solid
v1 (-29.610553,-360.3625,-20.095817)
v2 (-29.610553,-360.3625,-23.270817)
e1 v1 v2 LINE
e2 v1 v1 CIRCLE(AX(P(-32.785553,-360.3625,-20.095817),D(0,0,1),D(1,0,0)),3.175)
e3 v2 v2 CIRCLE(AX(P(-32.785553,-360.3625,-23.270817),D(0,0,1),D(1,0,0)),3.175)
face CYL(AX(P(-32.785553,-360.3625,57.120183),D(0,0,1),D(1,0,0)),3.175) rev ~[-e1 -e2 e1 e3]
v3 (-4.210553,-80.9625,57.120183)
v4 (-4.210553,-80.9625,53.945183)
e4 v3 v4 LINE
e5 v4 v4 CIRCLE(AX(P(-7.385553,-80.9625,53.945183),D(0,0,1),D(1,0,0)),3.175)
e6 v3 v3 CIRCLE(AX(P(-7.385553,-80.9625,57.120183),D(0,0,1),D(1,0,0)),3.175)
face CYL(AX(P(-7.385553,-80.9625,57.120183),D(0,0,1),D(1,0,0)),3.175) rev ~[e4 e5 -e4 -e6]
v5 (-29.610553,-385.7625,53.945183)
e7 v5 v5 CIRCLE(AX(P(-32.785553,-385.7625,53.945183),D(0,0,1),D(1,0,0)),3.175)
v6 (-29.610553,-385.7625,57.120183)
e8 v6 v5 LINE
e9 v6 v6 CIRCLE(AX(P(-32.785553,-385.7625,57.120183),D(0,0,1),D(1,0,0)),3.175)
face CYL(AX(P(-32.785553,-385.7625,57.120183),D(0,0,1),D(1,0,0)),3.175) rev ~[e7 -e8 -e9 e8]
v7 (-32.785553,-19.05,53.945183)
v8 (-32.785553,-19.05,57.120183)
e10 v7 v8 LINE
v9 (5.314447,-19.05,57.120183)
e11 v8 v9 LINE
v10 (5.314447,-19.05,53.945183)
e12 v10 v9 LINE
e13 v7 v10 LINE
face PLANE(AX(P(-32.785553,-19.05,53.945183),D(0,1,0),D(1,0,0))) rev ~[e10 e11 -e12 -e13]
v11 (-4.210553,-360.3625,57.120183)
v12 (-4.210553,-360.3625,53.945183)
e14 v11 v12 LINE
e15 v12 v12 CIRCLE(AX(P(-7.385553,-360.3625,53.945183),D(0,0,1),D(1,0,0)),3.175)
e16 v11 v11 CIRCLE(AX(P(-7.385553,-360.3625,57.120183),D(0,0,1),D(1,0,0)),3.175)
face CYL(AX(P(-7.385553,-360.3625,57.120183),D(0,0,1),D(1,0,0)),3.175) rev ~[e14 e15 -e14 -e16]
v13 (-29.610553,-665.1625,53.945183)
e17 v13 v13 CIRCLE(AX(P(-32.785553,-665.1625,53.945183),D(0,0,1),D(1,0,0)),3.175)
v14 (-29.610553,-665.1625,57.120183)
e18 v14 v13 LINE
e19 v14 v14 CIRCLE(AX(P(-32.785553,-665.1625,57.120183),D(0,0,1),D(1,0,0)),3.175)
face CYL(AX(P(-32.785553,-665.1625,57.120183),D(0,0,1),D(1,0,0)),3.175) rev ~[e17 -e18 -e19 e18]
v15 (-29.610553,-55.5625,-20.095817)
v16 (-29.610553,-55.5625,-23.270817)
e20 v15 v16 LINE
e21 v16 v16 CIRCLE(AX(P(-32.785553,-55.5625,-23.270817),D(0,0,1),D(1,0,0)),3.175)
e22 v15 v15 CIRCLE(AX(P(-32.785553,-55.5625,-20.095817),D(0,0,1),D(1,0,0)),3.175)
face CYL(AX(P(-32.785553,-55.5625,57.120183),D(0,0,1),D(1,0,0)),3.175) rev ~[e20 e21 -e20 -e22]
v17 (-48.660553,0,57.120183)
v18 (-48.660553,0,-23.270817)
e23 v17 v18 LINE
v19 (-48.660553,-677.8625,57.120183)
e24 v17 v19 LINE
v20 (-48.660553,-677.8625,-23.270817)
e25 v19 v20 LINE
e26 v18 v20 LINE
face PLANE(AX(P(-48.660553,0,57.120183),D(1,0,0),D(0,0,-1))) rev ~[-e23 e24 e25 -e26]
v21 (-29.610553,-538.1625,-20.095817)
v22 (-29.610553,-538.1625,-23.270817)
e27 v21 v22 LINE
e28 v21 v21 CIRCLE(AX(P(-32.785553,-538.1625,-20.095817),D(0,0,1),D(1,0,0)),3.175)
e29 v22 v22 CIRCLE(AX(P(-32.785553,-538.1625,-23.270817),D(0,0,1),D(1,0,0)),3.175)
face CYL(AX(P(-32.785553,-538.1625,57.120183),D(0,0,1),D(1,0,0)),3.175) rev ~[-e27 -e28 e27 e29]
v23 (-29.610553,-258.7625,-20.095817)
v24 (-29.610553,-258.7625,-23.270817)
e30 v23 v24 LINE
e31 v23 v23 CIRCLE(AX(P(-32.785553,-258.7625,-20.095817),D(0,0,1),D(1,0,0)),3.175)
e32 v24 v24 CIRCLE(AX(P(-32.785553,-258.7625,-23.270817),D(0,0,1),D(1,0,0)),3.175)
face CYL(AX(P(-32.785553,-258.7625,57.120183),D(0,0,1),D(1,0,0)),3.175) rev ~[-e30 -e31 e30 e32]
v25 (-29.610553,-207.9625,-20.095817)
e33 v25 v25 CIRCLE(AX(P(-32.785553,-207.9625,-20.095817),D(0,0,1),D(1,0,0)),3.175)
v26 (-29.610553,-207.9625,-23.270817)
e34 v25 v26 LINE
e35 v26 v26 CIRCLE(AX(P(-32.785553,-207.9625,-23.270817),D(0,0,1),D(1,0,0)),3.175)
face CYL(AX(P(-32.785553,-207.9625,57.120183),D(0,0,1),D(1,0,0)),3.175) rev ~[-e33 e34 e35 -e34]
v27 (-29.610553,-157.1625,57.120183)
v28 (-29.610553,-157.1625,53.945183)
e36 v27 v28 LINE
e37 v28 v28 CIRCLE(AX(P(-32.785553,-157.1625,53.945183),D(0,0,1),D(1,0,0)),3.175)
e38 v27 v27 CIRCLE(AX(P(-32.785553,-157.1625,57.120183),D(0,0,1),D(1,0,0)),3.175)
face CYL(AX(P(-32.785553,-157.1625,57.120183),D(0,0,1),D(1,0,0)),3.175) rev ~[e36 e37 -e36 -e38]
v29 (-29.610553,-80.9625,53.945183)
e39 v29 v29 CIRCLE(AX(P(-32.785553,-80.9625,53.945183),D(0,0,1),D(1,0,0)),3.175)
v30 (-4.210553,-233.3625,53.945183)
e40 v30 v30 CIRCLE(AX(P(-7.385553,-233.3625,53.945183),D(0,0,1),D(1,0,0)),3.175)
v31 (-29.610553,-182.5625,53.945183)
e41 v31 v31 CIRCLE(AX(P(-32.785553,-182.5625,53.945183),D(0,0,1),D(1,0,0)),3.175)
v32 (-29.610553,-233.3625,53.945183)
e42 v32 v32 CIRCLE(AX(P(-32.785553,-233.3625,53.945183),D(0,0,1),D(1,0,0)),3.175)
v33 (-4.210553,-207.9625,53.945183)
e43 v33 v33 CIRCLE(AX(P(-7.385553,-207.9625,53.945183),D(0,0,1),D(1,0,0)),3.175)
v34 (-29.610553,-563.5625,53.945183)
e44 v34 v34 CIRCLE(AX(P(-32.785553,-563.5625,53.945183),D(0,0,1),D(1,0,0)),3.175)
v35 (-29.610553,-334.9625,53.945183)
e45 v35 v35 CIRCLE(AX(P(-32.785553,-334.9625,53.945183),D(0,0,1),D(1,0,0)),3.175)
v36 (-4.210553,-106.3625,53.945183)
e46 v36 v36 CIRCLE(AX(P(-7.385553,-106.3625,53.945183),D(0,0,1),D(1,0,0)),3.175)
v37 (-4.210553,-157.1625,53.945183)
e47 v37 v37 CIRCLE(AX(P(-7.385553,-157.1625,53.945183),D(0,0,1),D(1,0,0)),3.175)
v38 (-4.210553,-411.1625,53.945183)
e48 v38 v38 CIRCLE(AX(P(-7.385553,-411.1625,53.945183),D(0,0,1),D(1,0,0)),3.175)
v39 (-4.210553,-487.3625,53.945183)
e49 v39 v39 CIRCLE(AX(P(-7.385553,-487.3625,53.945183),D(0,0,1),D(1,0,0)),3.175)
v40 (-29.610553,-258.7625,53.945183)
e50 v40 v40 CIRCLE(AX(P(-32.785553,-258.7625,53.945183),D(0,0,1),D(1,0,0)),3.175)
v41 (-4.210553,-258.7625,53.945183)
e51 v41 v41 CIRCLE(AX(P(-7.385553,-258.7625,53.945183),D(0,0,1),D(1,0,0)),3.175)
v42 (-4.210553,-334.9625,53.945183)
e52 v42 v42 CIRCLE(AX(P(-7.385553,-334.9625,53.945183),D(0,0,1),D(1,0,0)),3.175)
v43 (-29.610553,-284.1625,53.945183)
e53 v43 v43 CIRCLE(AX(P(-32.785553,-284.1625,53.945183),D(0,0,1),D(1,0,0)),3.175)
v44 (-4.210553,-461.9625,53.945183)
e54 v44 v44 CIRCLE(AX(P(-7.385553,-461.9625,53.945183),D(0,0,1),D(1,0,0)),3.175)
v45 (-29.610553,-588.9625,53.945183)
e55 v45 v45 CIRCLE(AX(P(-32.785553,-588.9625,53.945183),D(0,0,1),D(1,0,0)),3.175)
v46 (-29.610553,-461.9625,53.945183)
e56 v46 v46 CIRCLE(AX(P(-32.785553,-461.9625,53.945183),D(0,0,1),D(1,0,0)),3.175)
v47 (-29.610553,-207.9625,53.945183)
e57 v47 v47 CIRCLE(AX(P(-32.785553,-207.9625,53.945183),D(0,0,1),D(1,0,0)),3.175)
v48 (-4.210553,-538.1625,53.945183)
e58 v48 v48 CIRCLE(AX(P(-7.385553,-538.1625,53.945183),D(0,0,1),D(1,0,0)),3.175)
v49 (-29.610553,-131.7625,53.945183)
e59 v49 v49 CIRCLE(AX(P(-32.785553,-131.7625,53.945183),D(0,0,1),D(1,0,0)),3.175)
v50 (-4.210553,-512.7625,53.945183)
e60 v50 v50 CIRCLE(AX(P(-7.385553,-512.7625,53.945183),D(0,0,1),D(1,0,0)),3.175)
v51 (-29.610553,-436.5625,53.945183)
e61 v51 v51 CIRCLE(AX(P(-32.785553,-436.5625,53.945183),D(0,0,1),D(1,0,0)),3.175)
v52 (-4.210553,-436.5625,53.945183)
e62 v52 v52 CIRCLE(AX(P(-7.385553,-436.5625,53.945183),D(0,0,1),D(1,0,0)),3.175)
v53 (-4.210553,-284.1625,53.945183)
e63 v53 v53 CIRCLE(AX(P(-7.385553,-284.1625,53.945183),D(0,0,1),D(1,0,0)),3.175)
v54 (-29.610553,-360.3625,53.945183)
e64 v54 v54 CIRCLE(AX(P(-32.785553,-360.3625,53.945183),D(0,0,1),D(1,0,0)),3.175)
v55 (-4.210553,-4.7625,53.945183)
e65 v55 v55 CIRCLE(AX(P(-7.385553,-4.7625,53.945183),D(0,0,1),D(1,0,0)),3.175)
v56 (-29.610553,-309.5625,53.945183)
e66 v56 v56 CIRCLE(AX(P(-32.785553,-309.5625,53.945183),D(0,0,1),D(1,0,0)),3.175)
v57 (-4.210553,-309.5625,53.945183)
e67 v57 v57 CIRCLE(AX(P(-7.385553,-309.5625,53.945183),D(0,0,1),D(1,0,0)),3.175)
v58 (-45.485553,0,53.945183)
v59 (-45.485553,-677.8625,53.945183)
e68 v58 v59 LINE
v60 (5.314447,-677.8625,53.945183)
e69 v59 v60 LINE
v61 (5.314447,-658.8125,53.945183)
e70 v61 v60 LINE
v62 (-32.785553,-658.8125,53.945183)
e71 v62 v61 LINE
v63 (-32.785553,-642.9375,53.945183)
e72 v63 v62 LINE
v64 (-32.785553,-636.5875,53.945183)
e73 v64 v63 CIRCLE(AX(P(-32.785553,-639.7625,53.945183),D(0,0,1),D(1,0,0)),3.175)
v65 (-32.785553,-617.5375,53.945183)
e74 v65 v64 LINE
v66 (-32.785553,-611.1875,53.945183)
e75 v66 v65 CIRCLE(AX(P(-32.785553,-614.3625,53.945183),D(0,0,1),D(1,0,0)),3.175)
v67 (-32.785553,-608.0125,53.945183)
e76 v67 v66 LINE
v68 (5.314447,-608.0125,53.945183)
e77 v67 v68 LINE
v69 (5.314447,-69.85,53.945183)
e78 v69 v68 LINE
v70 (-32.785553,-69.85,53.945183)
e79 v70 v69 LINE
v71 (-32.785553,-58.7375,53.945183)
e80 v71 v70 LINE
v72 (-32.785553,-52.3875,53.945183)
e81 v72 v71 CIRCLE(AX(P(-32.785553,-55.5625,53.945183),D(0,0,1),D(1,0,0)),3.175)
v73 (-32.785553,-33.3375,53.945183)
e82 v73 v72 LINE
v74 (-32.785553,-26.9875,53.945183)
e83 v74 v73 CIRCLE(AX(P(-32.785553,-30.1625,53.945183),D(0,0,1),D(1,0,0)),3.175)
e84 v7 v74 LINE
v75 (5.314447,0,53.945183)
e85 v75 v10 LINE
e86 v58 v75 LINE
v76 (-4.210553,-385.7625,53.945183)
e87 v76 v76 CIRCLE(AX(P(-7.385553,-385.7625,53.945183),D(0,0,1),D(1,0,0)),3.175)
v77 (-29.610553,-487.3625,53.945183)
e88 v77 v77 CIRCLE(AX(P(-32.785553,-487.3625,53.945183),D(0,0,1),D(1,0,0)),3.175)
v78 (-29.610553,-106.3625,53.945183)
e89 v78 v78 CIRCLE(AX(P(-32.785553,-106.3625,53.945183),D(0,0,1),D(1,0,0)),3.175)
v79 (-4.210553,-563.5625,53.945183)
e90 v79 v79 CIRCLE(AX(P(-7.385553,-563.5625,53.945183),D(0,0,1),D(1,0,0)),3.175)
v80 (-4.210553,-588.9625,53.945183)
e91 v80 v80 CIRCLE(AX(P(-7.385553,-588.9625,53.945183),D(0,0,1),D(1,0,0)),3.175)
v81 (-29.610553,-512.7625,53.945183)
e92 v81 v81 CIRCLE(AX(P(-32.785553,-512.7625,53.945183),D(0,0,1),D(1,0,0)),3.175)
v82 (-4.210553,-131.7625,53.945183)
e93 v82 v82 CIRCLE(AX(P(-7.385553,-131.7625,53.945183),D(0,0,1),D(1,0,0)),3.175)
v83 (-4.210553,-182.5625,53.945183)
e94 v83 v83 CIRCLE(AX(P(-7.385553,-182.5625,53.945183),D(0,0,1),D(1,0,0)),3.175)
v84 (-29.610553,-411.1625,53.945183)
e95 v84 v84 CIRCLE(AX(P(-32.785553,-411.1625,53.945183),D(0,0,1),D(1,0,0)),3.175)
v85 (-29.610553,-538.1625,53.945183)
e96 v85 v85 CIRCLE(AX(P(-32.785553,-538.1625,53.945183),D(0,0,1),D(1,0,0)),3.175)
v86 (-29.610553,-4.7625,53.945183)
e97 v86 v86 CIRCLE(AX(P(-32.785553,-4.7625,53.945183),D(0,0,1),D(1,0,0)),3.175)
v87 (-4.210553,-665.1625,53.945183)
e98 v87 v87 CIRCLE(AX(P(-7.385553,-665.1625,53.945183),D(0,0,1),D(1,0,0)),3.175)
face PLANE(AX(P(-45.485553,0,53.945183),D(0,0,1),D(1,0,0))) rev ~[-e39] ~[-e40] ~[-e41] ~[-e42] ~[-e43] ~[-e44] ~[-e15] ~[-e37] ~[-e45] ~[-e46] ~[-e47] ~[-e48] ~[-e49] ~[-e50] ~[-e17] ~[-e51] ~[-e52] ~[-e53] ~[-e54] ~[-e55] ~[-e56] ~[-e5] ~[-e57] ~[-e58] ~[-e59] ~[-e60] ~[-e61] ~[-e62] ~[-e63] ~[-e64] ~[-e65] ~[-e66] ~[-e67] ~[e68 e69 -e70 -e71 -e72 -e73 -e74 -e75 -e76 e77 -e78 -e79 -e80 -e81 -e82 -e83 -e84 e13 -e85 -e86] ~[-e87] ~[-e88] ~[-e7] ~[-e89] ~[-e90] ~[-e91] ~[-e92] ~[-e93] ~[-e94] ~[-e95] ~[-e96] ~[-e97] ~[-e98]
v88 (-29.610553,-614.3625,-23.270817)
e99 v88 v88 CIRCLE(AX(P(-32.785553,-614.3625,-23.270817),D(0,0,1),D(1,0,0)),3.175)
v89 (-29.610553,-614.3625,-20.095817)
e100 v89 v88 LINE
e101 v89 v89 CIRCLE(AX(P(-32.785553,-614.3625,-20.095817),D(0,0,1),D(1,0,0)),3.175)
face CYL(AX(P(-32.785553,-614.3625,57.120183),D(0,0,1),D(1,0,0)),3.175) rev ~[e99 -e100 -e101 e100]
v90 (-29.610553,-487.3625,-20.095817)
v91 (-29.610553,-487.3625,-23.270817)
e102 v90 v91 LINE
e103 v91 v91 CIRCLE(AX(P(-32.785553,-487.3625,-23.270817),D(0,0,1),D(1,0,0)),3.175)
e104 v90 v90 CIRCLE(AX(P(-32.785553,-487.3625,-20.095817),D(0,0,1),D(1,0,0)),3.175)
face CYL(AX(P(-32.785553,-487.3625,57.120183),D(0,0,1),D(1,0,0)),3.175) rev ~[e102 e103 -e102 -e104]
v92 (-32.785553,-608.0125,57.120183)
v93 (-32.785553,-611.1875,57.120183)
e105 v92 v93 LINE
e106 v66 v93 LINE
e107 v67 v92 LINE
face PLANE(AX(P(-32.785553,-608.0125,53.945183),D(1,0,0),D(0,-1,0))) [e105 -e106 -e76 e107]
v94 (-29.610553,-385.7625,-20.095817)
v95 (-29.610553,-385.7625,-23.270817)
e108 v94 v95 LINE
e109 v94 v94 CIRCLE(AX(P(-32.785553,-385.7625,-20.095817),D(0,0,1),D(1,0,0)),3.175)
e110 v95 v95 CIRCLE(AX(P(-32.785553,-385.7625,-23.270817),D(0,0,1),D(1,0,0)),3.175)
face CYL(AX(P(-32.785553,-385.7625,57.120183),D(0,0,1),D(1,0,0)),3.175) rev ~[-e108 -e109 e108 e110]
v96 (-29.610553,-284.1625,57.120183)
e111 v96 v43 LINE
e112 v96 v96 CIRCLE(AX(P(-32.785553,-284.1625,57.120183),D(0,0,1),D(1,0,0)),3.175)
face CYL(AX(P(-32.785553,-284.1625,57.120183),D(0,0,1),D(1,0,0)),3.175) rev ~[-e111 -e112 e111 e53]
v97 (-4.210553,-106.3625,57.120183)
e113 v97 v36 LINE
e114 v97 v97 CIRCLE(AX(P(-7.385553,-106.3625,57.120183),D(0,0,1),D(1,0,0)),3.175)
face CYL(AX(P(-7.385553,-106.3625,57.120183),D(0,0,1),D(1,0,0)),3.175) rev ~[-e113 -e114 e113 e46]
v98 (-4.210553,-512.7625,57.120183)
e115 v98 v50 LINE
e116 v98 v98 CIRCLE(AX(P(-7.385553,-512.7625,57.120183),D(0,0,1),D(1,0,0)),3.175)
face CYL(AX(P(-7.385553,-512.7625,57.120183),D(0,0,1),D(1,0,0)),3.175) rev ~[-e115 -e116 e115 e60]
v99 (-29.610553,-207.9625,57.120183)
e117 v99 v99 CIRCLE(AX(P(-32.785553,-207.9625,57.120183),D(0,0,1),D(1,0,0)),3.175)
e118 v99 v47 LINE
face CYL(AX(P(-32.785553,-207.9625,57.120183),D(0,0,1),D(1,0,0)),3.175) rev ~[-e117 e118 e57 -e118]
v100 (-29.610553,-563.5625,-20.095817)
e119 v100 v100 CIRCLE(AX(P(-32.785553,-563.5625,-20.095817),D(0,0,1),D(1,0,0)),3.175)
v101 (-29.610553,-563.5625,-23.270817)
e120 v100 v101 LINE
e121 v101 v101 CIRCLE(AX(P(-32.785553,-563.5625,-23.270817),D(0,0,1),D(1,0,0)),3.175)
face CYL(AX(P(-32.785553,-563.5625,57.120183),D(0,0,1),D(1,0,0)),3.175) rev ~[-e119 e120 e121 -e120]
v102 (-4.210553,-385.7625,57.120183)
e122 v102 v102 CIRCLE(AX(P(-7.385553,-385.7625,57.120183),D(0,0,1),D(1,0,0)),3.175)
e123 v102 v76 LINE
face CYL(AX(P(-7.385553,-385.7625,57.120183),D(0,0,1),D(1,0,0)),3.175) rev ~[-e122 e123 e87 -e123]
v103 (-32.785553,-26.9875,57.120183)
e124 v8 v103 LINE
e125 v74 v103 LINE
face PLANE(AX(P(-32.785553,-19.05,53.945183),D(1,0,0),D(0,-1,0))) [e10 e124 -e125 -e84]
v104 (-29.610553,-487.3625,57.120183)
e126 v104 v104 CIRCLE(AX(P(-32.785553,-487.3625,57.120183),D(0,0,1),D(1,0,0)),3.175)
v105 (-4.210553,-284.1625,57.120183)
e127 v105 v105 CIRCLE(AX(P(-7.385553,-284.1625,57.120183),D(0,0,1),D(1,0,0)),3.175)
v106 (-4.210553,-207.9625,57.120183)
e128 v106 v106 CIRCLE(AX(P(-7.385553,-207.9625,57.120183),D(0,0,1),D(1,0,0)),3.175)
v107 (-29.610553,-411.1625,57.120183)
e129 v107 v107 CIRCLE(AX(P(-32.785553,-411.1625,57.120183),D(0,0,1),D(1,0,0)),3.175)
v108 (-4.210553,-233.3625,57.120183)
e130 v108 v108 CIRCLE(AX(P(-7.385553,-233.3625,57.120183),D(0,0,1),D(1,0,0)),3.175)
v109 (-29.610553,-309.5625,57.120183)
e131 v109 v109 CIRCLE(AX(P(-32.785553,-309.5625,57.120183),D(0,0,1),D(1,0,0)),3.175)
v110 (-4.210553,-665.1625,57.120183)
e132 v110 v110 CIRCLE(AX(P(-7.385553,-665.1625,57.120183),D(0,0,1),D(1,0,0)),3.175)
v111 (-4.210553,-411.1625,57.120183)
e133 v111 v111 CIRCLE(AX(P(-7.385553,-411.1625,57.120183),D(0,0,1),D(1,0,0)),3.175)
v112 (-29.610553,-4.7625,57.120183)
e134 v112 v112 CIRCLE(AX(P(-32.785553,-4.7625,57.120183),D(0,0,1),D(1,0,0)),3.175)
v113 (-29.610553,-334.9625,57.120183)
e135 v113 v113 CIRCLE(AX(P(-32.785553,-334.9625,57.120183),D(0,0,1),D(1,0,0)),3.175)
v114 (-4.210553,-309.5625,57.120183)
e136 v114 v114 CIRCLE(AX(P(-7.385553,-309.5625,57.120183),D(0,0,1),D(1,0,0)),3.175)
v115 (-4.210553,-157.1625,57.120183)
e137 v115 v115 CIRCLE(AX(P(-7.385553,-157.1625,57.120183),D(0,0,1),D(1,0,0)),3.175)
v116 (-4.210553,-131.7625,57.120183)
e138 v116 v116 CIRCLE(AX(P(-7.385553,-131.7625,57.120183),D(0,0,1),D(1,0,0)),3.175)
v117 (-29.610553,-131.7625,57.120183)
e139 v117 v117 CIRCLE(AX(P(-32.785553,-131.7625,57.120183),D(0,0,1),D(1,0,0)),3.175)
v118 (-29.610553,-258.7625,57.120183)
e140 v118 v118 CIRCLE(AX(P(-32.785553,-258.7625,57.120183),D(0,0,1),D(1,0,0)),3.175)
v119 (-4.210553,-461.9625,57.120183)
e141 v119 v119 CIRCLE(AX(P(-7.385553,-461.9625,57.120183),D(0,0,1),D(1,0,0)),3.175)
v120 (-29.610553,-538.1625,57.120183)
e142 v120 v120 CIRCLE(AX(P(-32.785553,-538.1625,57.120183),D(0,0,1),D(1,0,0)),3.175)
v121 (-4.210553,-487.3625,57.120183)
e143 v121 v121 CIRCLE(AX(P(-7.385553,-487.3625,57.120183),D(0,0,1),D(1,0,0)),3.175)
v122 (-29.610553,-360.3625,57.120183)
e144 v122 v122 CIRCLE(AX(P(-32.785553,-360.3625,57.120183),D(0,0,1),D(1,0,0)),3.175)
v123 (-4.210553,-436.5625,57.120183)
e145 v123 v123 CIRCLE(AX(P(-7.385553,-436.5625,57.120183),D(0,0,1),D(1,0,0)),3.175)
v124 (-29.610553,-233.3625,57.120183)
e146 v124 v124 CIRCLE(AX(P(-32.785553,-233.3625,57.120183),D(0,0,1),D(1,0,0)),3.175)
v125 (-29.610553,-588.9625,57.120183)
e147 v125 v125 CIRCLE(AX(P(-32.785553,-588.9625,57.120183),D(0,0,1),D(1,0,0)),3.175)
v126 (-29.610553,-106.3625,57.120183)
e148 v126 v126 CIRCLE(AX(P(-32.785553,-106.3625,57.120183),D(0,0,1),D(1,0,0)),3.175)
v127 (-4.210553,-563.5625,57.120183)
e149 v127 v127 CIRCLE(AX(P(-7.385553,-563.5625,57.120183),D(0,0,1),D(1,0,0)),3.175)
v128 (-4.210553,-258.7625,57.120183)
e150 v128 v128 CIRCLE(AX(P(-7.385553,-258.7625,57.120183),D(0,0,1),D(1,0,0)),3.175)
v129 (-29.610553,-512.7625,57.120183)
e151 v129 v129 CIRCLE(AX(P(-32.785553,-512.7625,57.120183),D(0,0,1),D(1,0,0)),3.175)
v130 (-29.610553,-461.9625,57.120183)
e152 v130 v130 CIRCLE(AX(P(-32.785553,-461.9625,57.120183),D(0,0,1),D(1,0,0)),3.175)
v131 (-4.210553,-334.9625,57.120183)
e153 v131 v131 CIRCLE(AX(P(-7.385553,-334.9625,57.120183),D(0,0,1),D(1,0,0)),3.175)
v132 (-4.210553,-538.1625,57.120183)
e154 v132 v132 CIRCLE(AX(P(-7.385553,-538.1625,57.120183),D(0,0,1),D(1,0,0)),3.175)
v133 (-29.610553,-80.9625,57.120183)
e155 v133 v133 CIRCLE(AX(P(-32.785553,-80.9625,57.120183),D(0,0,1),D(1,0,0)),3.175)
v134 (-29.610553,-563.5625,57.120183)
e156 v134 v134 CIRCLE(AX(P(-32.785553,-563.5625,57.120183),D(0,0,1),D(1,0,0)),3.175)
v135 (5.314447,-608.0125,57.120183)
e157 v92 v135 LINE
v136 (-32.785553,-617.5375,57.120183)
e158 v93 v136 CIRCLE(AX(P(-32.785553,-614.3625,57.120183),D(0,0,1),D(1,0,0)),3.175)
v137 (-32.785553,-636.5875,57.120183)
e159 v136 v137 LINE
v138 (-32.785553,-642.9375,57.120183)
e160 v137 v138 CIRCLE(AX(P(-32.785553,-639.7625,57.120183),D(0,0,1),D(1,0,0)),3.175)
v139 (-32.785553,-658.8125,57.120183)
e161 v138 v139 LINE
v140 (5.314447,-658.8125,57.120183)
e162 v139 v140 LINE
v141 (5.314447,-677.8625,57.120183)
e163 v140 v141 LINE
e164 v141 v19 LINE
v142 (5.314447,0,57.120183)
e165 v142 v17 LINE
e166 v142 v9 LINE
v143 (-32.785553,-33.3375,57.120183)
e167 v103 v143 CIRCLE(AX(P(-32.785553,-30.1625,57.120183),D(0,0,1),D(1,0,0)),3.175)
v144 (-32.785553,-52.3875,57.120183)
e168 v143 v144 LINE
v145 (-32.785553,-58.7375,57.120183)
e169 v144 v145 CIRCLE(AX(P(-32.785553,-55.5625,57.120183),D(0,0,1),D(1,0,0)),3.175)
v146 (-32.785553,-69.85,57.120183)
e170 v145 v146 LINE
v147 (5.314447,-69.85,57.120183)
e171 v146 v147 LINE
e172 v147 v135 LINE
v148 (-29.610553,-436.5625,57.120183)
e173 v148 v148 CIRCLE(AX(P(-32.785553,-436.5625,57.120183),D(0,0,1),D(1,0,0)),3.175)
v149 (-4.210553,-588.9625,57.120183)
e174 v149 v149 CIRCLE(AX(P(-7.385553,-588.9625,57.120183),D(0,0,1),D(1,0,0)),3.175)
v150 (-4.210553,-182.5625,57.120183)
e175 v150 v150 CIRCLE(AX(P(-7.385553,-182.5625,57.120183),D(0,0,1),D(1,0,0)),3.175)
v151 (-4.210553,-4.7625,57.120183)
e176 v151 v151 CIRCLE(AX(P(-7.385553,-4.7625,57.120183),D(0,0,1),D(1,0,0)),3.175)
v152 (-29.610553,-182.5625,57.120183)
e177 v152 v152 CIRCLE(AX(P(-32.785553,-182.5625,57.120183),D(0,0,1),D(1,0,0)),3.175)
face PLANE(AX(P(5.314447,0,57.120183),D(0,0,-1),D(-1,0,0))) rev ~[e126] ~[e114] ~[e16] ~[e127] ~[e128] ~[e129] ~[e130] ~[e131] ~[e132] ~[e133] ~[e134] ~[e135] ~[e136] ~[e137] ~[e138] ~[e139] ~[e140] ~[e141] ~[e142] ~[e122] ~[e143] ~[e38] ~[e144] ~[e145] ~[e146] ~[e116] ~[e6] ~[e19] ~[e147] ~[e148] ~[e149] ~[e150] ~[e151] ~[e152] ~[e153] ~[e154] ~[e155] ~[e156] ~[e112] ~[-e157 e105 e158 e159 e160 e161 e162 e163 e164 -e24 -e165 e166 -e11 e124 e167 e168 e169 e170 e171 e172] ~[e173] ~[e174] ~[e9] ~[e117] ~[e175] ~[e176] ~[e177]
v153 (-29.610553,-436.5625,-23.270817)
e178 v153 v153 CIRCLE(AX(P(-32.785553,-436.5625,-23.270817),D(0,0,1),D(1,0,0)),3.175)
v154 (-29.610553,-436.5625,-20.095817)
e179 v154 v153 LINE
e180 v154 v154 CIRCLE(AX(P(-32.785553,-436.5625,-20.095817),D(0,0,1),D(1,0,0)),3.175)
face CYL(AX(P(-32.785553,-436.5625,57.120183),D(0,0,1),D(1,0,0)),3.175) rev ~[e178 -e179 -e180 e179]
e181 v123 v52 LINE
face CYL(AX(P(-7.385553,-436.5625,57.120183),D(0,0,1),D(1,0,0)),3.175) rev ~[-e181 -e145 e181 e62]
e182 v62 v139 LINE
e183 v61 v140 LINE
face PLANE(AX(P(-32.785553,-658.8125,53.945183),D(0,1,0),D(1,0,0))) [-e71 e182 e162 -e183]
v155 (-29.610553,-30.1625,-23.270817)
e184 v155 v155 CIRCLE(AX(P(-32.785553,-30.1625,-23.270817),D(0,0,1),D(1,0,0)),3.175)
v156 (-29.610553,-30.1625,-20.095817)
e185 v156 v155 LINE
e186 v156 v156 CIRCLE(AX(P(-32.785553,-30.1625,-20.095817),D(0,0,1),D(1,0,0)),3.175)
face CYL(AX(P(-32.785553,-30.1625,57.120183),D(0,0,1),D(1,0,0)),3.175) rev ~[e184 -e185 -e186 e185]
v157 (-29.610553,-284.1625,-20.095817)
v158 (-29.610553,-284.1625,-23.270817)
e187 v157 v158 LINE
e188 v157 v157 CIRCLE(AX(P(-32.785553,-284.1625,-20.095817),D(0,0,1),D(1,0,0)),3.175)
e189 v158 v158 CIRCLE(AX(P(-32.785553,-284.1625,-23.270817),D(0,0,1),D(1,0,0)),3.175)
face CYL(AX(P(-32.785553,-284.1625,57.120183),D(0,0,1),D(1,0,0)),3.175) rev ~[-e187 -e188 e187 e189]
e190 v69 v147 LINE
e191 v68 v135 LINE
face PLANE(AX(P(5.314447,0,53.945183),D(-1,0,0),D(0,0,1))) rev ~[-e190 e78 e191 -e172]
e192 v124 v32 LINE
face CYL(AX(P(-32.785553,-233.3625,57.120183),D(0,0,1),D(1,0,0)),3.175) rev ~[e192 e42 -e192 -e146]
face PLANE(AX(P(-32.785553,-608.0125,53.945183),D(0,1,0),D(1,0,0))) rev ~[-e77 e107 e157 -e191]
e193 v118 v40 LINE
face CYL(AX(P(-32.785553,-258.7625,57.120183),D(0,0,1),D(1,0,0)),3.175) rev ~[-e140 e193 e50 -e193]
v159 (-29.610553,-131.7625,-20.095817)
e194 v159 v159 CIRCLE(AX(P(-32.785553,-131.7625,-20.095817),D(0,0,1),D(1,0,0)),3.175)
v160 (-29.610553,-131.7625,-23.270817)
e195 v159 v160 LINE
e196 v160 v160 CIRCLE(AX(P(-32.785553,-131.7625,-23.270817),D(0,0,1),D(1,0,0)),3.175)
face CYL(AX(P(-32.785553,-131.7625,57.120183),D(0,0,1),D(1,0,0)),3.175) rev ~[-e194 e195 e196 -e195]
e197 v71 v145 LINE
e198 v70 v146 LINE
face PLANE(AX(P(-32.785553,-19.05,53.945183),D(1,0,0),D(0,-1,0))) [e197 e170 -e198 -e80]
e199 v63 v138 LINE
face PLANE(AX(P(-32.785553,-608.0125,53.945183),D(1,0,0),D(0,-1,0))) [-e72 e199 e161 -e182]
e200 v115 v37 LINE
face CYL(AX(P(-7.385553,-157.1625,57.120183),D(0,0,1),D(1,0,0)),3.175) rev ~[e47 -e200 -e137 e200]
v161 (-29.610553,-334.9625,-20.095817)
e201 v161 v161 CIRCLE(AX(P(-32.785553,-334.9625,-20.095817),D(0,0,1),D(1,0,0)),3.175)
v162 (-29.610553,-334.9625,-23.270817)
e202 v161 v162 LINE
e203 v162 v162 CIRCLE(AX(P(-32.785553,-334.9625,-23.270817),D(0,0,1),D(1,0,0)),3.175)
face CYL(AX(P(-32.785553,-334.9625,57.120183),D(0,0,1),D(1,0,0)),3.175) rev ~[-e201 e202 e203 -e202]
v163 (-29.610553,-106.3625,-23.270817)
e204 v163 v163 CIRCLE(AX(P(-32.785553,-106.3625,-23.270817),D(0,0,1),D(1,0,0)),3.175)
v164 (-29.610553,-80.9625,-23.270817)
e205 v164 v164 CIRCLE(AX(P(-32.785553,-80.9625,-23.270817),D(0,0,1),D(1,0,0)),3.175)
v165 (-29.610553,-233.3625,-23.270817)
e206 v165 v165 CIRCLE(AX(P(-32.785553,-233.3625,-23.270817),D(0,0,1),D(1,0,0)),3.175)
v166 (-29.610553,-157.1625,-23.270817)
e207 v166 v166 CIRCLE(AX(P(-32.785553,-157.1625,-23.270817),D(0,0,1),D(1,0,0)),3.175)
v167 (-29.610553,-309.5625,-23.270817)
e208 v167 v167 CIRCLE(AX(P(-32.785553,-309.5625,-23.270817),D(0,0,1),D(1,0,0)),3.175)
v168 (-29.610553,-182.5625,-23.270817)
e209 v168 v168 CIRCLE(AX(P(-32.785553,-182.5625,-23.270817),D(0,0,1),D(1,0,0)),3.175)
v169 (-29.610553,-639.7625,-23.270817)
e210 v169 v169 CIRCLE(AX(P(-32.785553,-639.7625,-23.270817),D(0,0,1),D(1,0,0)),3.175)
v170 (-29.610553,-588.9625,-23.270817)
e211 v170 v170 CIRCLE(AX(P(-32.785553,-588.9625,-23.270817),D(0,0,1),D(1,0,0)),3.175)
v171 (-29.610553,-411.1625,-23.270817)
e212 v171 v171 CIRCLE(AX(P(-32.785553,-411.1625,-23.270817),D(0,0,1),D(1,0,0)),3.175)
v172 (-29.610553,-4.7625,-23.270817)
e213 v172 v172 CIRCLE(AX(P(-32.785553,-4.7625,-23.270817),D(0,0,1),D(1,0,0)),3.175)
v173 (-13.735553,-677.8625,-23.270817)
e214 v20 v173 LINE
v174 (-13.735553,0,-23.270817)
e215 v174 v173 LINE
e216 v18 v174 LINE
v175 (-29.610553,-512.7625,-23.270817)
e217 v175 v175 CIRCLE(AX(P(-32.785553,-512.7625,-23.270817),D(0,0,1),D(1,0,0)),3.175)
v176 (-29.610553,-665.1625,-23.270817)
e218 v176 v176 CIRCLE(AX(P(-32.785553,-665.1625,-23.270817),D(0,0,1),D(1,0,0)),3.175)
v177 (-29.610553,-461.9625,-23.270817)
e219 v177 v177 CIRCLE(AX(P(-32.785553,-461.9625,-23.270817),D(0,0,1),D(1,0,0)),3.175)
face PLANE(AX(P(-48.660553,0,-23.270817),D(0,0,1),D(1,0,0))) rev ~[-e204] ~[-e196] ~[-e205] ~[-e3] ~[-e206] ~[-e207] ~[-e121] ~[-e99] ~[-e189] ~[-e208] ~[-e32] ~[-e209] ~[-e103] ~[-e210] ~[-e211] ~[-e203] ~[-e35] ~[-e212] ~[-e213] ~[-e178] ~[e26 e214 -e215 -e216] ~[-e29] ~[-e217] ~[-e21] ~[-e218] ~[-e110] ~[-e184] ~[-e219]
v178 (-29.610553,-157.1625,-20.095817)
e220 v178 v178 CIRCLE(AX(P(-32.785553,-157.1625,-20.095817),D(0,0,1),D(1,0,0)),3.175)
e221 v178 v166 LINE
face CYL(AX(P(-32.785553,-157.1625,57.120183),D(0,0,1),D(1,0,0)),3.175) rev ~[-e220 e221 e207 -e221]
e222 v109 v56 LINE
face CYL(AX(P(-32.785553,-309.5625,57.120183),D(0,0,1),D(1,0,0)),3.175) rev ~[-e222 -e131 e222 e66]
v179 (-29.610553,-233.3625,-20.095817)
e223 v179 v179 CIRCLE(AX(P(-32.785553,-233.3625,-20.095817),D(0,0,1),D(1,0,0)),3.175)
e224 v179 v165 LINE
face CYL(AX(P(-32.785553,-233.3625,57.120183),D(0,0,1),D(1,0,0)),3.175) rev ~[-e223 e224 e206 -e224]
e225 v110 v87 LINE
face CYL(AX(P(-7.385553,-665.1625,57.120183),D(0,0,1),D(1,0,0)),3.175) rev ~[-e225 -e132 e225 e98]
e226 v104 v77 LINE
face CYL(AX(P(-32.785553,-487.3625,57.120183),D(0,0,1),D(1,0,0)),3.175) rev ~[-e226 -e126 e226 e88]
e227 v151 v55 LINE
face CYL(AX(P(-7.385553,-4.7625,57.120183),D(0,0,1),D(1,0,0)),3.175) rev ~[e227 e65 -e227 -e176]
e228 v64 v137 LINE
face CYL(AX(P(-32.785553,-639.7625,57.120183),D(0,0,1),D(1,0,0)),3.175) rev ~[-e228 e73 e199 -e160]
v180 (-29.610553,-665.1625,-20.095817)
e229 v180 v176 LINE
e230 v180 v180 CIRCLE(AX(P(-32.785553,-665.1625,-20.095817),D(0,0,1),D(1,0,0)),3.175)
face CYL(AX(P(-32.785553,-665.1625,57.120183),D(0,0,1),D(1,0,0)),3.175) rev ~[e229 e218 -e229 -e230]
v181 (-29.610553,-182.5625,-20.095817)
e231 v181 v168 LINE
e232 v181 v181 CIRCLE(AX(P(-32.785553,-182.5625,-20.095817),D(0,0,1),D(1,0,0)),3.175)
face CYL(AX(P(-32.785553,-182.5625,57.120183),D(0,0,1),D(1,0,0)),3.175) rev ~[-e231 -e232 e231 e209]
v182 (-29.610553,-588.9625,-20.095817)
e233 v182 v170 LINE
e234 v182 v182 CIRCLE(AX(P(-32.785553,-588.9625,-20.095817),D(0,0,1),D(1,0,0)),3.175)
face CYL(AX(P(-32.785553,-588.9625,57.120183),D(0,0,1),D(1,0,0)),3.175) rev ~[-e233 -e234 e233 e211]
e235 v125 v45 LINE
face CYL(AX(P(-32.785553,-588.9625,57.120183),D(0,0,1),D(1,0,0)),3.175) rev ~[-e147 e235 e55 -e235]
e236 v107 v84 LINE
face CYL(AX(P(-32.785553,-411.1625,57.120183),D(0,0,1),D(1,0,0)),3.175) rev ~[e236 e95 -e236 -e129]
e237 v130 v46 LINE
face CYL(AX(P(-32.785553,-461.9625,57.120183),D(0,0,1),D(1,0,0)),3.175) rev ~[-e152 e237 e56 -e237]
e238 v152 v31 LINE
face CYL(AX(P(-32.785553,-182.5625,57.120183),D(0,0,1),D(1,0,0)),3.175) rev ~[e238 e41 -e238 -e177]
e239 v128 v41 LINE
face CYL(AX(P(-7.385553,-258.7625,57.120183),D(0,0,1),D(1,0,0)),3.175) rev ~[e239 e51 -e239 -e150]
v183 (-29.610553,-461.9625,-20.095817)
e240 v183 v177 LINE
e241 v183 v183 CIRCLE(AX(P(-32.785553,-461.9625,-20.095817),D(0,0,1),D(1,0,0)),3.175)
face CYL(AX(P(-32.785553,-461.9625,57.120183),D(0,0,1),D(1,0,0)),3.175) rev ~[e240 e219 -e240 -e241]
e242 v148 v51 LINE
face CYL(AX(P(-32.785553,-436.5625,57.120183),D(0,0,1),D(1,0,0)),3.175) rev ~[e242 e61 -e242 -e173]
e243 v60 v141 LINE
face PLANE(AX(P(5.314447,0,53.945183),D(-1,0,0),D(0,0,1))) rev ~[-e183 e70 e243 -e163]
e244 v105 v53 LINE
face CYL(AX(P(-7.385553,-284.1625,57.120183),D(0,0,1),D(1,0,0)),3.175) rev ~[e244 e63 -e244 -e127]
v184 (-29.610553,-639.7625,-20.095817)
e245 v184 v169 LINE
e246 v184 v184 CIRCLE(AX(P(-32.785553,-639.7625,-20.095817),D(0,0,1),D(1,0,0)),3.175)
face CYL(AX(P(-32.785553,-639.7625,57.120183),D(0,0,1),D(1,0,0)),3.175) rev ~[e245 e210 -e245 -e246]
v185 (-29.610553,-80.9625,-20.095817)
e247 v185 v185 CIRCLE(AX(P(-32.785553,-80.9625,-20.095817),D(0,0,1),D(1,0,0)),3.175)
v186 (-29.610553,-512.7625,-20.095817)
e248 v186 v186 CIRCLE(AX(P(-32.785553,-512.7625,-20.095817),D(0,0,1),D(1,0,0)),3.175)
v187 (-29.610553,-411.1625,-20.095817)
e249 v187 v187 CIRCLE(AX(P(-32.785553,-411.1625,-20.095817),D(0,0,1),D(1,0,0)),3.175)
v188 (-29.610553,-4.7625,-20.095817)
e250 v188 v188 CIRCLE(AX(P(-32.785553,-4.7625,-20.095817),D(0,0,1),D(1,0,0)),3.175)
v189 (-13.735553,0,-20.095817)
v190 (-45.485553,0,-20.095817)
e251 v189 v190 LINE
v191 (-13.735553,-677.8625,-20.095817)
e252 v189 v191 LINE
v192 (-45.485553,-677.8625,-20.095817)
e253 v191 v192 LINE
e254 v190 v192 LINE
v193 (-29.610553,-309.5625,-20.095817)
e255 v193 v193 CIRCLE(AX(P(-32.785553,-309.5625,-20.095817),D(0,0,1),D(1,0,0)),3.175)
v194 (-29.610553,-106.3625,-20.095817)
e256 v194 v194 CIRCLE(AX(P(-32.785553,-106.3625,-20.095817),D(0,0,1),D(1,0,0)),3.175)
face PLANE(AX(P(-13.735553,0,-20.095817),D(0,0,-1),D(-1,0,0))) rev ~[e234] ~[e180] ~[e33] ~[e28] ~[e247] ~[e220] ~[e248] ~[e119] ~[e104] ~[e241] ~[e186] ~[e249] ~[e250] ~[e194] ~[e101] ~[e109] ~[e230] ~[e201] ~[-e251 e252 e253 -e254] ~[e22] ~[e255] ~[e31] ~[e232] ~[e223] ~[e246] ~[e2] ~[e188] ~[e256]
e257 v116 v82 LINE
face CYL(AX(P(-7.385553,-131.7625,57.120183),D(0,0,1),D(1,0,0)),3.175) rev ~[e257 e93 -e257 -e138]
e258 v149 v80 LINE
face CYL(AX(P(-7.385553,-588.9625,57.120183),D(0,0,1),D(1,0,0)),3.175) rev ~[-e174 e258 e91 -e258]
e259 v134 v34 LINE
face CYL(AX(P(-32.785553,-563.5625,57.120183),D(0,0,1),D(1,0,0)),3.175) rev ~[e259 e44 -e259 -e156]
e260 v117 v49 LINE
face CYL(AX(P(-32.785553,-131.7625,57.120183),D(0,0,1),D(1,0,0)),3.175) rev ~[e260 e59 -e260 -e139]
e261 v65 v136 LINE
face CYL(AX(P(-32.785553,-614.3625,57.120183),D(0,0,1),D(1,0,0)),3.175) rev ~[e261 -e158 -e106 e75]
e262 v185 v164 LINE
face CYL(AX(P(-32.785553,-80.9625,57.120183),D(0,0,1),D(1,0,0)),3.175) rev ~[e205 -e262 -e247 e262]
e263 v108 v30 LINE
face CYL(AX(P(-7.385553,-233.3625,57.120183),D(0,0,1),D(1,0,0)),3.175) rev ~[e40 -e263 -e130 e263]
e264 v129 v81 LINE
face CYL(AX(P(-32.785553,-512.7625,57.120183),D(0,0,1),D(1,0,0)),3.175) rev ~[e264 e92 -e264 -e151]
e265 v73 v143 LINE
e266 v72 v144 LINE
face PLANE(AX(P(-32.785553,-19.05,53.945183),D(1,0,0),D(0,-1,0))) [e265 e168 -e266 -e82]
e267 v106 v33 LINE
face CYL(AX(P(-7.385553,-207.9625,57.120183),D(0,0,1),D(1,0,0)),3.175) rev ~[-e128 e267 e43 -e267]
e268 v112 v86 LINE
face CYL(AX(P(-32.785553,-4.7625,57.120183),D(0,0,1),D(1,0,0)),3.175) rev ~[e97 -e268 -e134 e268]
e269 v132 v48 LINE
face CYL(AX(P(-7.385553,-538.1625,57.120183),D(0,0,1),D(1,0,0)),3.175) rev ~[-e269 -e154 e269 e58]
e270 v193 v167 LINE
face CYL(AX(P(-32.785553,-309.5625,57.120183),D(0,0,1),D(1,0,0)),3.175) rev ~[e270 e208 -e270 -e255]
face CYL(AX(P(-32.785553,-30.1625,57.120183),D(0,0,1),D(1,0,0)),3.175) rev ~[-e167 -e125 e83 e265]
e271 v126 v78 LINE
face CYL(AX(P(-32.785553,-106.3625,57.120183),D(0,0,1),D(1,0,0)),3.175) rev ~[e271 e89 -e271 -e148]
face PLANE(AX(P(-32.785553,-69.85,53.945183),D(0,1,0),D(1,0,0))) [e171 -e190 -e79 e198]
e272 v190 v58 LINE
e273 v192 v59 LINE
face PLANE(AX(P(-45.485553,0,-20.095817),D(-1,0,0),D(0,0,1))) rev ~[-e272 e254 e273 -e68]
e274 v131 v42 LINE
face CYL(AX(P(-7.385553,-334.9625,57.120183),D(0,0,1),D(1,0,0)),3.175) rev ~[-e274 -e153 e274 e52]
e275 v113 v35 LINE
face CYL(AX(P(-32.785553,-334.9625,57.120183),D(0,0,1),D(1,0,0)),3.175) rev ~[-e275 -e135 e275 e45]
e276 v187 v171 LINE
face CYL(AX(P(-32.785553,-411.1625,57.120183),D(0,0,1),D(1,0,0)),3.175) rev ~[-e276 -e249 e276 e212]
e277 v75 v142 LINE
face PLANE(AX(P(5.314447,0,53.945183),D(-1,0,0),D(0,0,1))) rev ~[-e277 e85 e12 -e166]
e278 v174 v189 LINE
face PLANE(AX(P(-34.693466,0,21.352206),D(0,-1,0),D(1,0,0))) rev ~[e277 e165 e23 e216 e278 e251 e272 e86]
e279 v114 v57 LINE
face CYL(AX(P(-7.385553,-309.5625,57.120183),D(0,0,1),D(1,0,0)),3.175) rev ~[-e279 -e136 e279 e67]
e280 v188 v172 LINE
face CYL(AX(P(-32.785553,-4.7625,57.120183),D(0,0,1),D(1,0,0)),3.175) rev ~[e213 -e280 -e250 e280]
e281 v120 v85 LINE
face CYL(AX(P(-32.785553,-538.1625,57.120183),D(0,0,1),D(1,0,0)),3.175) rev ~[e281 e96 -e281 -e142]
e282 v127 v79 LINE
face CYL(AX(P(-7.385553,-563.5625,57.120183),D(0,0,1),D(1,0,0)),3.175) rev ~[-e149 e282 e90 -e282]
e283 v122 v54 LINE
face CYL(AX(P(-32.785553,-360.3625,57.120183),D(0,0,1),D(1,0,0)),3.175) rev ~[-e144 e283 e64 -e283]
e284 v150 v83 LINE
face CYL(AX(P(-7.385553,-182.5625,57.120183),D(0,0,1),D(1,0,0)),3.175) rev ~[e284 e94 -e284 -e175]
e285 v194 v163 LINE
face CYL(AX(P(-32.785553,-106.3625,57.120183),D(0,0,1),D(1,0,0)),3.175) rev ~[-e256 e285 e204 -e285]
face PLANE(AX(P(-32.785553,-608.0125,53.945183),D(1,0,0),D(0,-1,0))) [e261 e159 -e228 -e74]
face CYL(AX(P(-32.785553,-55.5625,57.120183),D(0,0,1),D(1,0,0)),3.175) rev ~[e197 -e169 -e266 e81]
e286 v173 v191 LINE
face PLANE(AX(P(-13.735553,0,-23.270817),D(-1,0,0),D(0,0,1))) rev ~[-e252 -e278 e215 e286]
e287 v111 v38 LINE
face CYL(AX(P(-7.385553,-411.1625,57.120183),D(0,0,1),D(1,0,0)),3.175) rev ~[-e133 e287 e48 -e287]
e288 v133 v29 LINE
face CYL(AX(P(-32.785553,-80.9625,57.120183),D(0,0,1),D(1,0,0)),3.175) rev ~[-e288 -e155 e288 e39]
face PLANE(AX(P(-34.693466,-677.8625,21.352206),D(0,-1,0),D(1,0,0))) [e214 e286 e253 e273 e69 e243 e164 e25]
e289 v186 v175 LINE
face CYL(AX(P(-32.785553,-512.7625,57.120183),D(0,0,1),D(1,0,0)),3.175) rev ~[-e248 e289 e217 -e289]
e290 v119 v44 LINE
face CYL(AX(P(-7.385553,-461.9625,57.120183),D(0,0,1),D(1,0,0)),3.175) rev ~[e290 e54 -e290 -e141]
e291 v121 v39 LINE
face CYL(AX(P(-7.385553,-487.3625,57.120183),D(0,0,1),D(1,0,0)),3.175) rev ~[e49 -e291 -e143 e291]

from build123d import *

# Parameters (mm, degrees)
F1_DEPTH = 677.8625
F2_W     = 38.1
F2_H     = 50.8
F3_DEPTH = 25.4
F4_R     = 3.175
F5_DEPTH = 101.6


with BuildPart() as f1:
    # F0 (on Front) → F1 (new body)
    with BuildSketch(Plane.XZ):
        Polygon((5.314447, 57.120183), (-48.660553, 57.120183), (-48.660553, -23.270817), (-13.735553, -23.270817), (-13.735553, -20.095817), (-45.485553, -20.095817), (-45.485553, 53.945183), (5.314447, 53.945183), align=None)
    extrude(amount=F1_DEPTH)

    # F2 (on face) → F3 (cut)
    with BuildSketch(Plane(origin=(0, 0, 53.945183), x_dir=(1, 0, 0), z_dir=(0, 0, -1))):
        with Locations((-13.735553, 44.45)):
            Rectangle(F2_W, F2_H)
        with Locations((-13.735553, 633.4125)):
            Rectangle(F2_W, F2_H)
    extrude(amount=-F3_DEPTH, mode=Mode.SUBTRACT)

    # F4 (on face) → F5 (cut)
    with BuildSketch(Plane.XY.offset(57.120183)):
        with Locations((-7.385553, -665.1625)):
            Circle(F4_R)
        with Locations((-7.385553, -639.7625)):
            Circle(F4_R)
        with Locations((-7.385553, -614.3625)):
            Circle(F4_R)
        with Locations((-7.385553, -588.9625)):
            Circle(F4_R)
        with Locations((-7.385553, -563.5625)):
            Circle(F4_R)
        with Locations((-7.385553, -538.1625)):
            Circle(F4_R)
        with Locations((-7.385553, -512.7625)):
            Circle(F4_R)
        with Locations((-7.385553, -487.3625)):
            Circle(F4_R)
        with Locations((-7.385553, -461.9625)):
            Circle(F4_R)
        with Locations((-7.385553, -436.5625)):
            Circle(F4_R)
        with Locations((-7.385553, -411.1625)):
            Circle(F4_R)
        with Locations((-7.385553, -385.7625)):
            Circle(F4_R)
        with Locations((-7.385553, -360.3625)):
            Circle(F4_R)
        with Locations((-7.385553, -334.9625)):
            Circle(F4_R)
        with Locations((-7.385553, -309.5625)):
            Circle(F4_R)
        with Locations((-7.385553, -284.1625)):
            Circle(F4_R)
        with Locations((-7.385553, -258.7625)):
            Circle(F4_R)
        with Locations((-7.385553, -233.3625)):
            Circle(F4_R)
        with Locations((-7.385553, -207.9625)):
            Circle(F4_R)
        with Locations((-7.385553, -182.5625)):
            Circle(F4_R)
        with Locations((-7.385553, -157.1625)):
            Circle(F4_R)
        with Locations((-7.385553, -131.7625)):
            Circle(F4_R)
        with Locations((-7.385553, -106.3625)):
            Circle(F4_R)
        with Locations((-7.385553, -80.9625)):
            Circle(F4_R)
        with Locations((-7.385553, -55.5625)):
            Circle(F4_R)
        with Locations((-7.385553, -30.1625)):
            Circle(F4_R)
        with Locations((-7.385553, -4.7625)):
            Circle(F4_R)
        with Locations((-32.785553, -665.1625)):
            Circle(F4_R)
        with Locations((-32.785553, -639.7625)):
            Circle(F4_R)
        with Locations((-32.785553, -614.3625)):
            Circle(F4_R)
        with Locations((-32.785553, -588.9625)):
            Circle(F4_R)
        with Locations((-32.785553, -563.5625)):
            Circle(F4_R)
        with Locations((-32.785553, -538.1625)):
            Circle(F4_R)
        with Locations((-32.785553, -512.7625)):
            Circle(F4_R)
        with Locations((-32.785553, -487.3625)):
            Circle(F4_R)
        with Locations((-32.785553, -461.9625)):
            Circle(F4_R)
        with Locations((-32.785553, -436.5625)):
            Circle(F4_R)
        with Locations((-32.785553, -411.1625)):
            Circle(F4_R)
        with Locations((-32.785553, -385.7625)):
            Circle(F4_R)
        with Locations((-32.785553, -360.3625)):
            Circle(F4_R)
        with Locations((-32.785553, -334.9625)):
            Circle(F4_R)
        with Locations((-32.785553, -309.5625)):
            Circle(F4_R)
        with Locations((-32.785553, -284.1625)):
            Circle(F4_R)
        with Locations((-32.785553, -258.7625)):
            Circle(F4_R)
        with Locations((-32.785553, -233.3625)):
            Circle(F4_R)
        with Locations((-32.785553, -207.9625)):
            Circle(F4_R)
        with Locations((-32.785553, -182.5625)):
            Circle(F4_R)
        with Locations((-32.785553, -157.1625)):
            Circle(F4_R)
        with Locations((-32.785553, -131.7625)):
            Circle(F4_R)
        with Locations((-32.785553, -106.3625)):
            Circle(F4_R)
        with Locations((-32.785553, -80.9625)):
            Circle(F4_R)
        with Locations((-32.785553, -55.5625)):
            Circle(F4_R)
        with Locations((-32.785553, -30.1625)):
            Circle(F4_R)
        with Locations((-32.785553, -4.7625)):
            Circle(F4_R)
    extrude(amount=-F5_DEPTH, mode=Mode.SUBTRACT)


solid = f1.part
